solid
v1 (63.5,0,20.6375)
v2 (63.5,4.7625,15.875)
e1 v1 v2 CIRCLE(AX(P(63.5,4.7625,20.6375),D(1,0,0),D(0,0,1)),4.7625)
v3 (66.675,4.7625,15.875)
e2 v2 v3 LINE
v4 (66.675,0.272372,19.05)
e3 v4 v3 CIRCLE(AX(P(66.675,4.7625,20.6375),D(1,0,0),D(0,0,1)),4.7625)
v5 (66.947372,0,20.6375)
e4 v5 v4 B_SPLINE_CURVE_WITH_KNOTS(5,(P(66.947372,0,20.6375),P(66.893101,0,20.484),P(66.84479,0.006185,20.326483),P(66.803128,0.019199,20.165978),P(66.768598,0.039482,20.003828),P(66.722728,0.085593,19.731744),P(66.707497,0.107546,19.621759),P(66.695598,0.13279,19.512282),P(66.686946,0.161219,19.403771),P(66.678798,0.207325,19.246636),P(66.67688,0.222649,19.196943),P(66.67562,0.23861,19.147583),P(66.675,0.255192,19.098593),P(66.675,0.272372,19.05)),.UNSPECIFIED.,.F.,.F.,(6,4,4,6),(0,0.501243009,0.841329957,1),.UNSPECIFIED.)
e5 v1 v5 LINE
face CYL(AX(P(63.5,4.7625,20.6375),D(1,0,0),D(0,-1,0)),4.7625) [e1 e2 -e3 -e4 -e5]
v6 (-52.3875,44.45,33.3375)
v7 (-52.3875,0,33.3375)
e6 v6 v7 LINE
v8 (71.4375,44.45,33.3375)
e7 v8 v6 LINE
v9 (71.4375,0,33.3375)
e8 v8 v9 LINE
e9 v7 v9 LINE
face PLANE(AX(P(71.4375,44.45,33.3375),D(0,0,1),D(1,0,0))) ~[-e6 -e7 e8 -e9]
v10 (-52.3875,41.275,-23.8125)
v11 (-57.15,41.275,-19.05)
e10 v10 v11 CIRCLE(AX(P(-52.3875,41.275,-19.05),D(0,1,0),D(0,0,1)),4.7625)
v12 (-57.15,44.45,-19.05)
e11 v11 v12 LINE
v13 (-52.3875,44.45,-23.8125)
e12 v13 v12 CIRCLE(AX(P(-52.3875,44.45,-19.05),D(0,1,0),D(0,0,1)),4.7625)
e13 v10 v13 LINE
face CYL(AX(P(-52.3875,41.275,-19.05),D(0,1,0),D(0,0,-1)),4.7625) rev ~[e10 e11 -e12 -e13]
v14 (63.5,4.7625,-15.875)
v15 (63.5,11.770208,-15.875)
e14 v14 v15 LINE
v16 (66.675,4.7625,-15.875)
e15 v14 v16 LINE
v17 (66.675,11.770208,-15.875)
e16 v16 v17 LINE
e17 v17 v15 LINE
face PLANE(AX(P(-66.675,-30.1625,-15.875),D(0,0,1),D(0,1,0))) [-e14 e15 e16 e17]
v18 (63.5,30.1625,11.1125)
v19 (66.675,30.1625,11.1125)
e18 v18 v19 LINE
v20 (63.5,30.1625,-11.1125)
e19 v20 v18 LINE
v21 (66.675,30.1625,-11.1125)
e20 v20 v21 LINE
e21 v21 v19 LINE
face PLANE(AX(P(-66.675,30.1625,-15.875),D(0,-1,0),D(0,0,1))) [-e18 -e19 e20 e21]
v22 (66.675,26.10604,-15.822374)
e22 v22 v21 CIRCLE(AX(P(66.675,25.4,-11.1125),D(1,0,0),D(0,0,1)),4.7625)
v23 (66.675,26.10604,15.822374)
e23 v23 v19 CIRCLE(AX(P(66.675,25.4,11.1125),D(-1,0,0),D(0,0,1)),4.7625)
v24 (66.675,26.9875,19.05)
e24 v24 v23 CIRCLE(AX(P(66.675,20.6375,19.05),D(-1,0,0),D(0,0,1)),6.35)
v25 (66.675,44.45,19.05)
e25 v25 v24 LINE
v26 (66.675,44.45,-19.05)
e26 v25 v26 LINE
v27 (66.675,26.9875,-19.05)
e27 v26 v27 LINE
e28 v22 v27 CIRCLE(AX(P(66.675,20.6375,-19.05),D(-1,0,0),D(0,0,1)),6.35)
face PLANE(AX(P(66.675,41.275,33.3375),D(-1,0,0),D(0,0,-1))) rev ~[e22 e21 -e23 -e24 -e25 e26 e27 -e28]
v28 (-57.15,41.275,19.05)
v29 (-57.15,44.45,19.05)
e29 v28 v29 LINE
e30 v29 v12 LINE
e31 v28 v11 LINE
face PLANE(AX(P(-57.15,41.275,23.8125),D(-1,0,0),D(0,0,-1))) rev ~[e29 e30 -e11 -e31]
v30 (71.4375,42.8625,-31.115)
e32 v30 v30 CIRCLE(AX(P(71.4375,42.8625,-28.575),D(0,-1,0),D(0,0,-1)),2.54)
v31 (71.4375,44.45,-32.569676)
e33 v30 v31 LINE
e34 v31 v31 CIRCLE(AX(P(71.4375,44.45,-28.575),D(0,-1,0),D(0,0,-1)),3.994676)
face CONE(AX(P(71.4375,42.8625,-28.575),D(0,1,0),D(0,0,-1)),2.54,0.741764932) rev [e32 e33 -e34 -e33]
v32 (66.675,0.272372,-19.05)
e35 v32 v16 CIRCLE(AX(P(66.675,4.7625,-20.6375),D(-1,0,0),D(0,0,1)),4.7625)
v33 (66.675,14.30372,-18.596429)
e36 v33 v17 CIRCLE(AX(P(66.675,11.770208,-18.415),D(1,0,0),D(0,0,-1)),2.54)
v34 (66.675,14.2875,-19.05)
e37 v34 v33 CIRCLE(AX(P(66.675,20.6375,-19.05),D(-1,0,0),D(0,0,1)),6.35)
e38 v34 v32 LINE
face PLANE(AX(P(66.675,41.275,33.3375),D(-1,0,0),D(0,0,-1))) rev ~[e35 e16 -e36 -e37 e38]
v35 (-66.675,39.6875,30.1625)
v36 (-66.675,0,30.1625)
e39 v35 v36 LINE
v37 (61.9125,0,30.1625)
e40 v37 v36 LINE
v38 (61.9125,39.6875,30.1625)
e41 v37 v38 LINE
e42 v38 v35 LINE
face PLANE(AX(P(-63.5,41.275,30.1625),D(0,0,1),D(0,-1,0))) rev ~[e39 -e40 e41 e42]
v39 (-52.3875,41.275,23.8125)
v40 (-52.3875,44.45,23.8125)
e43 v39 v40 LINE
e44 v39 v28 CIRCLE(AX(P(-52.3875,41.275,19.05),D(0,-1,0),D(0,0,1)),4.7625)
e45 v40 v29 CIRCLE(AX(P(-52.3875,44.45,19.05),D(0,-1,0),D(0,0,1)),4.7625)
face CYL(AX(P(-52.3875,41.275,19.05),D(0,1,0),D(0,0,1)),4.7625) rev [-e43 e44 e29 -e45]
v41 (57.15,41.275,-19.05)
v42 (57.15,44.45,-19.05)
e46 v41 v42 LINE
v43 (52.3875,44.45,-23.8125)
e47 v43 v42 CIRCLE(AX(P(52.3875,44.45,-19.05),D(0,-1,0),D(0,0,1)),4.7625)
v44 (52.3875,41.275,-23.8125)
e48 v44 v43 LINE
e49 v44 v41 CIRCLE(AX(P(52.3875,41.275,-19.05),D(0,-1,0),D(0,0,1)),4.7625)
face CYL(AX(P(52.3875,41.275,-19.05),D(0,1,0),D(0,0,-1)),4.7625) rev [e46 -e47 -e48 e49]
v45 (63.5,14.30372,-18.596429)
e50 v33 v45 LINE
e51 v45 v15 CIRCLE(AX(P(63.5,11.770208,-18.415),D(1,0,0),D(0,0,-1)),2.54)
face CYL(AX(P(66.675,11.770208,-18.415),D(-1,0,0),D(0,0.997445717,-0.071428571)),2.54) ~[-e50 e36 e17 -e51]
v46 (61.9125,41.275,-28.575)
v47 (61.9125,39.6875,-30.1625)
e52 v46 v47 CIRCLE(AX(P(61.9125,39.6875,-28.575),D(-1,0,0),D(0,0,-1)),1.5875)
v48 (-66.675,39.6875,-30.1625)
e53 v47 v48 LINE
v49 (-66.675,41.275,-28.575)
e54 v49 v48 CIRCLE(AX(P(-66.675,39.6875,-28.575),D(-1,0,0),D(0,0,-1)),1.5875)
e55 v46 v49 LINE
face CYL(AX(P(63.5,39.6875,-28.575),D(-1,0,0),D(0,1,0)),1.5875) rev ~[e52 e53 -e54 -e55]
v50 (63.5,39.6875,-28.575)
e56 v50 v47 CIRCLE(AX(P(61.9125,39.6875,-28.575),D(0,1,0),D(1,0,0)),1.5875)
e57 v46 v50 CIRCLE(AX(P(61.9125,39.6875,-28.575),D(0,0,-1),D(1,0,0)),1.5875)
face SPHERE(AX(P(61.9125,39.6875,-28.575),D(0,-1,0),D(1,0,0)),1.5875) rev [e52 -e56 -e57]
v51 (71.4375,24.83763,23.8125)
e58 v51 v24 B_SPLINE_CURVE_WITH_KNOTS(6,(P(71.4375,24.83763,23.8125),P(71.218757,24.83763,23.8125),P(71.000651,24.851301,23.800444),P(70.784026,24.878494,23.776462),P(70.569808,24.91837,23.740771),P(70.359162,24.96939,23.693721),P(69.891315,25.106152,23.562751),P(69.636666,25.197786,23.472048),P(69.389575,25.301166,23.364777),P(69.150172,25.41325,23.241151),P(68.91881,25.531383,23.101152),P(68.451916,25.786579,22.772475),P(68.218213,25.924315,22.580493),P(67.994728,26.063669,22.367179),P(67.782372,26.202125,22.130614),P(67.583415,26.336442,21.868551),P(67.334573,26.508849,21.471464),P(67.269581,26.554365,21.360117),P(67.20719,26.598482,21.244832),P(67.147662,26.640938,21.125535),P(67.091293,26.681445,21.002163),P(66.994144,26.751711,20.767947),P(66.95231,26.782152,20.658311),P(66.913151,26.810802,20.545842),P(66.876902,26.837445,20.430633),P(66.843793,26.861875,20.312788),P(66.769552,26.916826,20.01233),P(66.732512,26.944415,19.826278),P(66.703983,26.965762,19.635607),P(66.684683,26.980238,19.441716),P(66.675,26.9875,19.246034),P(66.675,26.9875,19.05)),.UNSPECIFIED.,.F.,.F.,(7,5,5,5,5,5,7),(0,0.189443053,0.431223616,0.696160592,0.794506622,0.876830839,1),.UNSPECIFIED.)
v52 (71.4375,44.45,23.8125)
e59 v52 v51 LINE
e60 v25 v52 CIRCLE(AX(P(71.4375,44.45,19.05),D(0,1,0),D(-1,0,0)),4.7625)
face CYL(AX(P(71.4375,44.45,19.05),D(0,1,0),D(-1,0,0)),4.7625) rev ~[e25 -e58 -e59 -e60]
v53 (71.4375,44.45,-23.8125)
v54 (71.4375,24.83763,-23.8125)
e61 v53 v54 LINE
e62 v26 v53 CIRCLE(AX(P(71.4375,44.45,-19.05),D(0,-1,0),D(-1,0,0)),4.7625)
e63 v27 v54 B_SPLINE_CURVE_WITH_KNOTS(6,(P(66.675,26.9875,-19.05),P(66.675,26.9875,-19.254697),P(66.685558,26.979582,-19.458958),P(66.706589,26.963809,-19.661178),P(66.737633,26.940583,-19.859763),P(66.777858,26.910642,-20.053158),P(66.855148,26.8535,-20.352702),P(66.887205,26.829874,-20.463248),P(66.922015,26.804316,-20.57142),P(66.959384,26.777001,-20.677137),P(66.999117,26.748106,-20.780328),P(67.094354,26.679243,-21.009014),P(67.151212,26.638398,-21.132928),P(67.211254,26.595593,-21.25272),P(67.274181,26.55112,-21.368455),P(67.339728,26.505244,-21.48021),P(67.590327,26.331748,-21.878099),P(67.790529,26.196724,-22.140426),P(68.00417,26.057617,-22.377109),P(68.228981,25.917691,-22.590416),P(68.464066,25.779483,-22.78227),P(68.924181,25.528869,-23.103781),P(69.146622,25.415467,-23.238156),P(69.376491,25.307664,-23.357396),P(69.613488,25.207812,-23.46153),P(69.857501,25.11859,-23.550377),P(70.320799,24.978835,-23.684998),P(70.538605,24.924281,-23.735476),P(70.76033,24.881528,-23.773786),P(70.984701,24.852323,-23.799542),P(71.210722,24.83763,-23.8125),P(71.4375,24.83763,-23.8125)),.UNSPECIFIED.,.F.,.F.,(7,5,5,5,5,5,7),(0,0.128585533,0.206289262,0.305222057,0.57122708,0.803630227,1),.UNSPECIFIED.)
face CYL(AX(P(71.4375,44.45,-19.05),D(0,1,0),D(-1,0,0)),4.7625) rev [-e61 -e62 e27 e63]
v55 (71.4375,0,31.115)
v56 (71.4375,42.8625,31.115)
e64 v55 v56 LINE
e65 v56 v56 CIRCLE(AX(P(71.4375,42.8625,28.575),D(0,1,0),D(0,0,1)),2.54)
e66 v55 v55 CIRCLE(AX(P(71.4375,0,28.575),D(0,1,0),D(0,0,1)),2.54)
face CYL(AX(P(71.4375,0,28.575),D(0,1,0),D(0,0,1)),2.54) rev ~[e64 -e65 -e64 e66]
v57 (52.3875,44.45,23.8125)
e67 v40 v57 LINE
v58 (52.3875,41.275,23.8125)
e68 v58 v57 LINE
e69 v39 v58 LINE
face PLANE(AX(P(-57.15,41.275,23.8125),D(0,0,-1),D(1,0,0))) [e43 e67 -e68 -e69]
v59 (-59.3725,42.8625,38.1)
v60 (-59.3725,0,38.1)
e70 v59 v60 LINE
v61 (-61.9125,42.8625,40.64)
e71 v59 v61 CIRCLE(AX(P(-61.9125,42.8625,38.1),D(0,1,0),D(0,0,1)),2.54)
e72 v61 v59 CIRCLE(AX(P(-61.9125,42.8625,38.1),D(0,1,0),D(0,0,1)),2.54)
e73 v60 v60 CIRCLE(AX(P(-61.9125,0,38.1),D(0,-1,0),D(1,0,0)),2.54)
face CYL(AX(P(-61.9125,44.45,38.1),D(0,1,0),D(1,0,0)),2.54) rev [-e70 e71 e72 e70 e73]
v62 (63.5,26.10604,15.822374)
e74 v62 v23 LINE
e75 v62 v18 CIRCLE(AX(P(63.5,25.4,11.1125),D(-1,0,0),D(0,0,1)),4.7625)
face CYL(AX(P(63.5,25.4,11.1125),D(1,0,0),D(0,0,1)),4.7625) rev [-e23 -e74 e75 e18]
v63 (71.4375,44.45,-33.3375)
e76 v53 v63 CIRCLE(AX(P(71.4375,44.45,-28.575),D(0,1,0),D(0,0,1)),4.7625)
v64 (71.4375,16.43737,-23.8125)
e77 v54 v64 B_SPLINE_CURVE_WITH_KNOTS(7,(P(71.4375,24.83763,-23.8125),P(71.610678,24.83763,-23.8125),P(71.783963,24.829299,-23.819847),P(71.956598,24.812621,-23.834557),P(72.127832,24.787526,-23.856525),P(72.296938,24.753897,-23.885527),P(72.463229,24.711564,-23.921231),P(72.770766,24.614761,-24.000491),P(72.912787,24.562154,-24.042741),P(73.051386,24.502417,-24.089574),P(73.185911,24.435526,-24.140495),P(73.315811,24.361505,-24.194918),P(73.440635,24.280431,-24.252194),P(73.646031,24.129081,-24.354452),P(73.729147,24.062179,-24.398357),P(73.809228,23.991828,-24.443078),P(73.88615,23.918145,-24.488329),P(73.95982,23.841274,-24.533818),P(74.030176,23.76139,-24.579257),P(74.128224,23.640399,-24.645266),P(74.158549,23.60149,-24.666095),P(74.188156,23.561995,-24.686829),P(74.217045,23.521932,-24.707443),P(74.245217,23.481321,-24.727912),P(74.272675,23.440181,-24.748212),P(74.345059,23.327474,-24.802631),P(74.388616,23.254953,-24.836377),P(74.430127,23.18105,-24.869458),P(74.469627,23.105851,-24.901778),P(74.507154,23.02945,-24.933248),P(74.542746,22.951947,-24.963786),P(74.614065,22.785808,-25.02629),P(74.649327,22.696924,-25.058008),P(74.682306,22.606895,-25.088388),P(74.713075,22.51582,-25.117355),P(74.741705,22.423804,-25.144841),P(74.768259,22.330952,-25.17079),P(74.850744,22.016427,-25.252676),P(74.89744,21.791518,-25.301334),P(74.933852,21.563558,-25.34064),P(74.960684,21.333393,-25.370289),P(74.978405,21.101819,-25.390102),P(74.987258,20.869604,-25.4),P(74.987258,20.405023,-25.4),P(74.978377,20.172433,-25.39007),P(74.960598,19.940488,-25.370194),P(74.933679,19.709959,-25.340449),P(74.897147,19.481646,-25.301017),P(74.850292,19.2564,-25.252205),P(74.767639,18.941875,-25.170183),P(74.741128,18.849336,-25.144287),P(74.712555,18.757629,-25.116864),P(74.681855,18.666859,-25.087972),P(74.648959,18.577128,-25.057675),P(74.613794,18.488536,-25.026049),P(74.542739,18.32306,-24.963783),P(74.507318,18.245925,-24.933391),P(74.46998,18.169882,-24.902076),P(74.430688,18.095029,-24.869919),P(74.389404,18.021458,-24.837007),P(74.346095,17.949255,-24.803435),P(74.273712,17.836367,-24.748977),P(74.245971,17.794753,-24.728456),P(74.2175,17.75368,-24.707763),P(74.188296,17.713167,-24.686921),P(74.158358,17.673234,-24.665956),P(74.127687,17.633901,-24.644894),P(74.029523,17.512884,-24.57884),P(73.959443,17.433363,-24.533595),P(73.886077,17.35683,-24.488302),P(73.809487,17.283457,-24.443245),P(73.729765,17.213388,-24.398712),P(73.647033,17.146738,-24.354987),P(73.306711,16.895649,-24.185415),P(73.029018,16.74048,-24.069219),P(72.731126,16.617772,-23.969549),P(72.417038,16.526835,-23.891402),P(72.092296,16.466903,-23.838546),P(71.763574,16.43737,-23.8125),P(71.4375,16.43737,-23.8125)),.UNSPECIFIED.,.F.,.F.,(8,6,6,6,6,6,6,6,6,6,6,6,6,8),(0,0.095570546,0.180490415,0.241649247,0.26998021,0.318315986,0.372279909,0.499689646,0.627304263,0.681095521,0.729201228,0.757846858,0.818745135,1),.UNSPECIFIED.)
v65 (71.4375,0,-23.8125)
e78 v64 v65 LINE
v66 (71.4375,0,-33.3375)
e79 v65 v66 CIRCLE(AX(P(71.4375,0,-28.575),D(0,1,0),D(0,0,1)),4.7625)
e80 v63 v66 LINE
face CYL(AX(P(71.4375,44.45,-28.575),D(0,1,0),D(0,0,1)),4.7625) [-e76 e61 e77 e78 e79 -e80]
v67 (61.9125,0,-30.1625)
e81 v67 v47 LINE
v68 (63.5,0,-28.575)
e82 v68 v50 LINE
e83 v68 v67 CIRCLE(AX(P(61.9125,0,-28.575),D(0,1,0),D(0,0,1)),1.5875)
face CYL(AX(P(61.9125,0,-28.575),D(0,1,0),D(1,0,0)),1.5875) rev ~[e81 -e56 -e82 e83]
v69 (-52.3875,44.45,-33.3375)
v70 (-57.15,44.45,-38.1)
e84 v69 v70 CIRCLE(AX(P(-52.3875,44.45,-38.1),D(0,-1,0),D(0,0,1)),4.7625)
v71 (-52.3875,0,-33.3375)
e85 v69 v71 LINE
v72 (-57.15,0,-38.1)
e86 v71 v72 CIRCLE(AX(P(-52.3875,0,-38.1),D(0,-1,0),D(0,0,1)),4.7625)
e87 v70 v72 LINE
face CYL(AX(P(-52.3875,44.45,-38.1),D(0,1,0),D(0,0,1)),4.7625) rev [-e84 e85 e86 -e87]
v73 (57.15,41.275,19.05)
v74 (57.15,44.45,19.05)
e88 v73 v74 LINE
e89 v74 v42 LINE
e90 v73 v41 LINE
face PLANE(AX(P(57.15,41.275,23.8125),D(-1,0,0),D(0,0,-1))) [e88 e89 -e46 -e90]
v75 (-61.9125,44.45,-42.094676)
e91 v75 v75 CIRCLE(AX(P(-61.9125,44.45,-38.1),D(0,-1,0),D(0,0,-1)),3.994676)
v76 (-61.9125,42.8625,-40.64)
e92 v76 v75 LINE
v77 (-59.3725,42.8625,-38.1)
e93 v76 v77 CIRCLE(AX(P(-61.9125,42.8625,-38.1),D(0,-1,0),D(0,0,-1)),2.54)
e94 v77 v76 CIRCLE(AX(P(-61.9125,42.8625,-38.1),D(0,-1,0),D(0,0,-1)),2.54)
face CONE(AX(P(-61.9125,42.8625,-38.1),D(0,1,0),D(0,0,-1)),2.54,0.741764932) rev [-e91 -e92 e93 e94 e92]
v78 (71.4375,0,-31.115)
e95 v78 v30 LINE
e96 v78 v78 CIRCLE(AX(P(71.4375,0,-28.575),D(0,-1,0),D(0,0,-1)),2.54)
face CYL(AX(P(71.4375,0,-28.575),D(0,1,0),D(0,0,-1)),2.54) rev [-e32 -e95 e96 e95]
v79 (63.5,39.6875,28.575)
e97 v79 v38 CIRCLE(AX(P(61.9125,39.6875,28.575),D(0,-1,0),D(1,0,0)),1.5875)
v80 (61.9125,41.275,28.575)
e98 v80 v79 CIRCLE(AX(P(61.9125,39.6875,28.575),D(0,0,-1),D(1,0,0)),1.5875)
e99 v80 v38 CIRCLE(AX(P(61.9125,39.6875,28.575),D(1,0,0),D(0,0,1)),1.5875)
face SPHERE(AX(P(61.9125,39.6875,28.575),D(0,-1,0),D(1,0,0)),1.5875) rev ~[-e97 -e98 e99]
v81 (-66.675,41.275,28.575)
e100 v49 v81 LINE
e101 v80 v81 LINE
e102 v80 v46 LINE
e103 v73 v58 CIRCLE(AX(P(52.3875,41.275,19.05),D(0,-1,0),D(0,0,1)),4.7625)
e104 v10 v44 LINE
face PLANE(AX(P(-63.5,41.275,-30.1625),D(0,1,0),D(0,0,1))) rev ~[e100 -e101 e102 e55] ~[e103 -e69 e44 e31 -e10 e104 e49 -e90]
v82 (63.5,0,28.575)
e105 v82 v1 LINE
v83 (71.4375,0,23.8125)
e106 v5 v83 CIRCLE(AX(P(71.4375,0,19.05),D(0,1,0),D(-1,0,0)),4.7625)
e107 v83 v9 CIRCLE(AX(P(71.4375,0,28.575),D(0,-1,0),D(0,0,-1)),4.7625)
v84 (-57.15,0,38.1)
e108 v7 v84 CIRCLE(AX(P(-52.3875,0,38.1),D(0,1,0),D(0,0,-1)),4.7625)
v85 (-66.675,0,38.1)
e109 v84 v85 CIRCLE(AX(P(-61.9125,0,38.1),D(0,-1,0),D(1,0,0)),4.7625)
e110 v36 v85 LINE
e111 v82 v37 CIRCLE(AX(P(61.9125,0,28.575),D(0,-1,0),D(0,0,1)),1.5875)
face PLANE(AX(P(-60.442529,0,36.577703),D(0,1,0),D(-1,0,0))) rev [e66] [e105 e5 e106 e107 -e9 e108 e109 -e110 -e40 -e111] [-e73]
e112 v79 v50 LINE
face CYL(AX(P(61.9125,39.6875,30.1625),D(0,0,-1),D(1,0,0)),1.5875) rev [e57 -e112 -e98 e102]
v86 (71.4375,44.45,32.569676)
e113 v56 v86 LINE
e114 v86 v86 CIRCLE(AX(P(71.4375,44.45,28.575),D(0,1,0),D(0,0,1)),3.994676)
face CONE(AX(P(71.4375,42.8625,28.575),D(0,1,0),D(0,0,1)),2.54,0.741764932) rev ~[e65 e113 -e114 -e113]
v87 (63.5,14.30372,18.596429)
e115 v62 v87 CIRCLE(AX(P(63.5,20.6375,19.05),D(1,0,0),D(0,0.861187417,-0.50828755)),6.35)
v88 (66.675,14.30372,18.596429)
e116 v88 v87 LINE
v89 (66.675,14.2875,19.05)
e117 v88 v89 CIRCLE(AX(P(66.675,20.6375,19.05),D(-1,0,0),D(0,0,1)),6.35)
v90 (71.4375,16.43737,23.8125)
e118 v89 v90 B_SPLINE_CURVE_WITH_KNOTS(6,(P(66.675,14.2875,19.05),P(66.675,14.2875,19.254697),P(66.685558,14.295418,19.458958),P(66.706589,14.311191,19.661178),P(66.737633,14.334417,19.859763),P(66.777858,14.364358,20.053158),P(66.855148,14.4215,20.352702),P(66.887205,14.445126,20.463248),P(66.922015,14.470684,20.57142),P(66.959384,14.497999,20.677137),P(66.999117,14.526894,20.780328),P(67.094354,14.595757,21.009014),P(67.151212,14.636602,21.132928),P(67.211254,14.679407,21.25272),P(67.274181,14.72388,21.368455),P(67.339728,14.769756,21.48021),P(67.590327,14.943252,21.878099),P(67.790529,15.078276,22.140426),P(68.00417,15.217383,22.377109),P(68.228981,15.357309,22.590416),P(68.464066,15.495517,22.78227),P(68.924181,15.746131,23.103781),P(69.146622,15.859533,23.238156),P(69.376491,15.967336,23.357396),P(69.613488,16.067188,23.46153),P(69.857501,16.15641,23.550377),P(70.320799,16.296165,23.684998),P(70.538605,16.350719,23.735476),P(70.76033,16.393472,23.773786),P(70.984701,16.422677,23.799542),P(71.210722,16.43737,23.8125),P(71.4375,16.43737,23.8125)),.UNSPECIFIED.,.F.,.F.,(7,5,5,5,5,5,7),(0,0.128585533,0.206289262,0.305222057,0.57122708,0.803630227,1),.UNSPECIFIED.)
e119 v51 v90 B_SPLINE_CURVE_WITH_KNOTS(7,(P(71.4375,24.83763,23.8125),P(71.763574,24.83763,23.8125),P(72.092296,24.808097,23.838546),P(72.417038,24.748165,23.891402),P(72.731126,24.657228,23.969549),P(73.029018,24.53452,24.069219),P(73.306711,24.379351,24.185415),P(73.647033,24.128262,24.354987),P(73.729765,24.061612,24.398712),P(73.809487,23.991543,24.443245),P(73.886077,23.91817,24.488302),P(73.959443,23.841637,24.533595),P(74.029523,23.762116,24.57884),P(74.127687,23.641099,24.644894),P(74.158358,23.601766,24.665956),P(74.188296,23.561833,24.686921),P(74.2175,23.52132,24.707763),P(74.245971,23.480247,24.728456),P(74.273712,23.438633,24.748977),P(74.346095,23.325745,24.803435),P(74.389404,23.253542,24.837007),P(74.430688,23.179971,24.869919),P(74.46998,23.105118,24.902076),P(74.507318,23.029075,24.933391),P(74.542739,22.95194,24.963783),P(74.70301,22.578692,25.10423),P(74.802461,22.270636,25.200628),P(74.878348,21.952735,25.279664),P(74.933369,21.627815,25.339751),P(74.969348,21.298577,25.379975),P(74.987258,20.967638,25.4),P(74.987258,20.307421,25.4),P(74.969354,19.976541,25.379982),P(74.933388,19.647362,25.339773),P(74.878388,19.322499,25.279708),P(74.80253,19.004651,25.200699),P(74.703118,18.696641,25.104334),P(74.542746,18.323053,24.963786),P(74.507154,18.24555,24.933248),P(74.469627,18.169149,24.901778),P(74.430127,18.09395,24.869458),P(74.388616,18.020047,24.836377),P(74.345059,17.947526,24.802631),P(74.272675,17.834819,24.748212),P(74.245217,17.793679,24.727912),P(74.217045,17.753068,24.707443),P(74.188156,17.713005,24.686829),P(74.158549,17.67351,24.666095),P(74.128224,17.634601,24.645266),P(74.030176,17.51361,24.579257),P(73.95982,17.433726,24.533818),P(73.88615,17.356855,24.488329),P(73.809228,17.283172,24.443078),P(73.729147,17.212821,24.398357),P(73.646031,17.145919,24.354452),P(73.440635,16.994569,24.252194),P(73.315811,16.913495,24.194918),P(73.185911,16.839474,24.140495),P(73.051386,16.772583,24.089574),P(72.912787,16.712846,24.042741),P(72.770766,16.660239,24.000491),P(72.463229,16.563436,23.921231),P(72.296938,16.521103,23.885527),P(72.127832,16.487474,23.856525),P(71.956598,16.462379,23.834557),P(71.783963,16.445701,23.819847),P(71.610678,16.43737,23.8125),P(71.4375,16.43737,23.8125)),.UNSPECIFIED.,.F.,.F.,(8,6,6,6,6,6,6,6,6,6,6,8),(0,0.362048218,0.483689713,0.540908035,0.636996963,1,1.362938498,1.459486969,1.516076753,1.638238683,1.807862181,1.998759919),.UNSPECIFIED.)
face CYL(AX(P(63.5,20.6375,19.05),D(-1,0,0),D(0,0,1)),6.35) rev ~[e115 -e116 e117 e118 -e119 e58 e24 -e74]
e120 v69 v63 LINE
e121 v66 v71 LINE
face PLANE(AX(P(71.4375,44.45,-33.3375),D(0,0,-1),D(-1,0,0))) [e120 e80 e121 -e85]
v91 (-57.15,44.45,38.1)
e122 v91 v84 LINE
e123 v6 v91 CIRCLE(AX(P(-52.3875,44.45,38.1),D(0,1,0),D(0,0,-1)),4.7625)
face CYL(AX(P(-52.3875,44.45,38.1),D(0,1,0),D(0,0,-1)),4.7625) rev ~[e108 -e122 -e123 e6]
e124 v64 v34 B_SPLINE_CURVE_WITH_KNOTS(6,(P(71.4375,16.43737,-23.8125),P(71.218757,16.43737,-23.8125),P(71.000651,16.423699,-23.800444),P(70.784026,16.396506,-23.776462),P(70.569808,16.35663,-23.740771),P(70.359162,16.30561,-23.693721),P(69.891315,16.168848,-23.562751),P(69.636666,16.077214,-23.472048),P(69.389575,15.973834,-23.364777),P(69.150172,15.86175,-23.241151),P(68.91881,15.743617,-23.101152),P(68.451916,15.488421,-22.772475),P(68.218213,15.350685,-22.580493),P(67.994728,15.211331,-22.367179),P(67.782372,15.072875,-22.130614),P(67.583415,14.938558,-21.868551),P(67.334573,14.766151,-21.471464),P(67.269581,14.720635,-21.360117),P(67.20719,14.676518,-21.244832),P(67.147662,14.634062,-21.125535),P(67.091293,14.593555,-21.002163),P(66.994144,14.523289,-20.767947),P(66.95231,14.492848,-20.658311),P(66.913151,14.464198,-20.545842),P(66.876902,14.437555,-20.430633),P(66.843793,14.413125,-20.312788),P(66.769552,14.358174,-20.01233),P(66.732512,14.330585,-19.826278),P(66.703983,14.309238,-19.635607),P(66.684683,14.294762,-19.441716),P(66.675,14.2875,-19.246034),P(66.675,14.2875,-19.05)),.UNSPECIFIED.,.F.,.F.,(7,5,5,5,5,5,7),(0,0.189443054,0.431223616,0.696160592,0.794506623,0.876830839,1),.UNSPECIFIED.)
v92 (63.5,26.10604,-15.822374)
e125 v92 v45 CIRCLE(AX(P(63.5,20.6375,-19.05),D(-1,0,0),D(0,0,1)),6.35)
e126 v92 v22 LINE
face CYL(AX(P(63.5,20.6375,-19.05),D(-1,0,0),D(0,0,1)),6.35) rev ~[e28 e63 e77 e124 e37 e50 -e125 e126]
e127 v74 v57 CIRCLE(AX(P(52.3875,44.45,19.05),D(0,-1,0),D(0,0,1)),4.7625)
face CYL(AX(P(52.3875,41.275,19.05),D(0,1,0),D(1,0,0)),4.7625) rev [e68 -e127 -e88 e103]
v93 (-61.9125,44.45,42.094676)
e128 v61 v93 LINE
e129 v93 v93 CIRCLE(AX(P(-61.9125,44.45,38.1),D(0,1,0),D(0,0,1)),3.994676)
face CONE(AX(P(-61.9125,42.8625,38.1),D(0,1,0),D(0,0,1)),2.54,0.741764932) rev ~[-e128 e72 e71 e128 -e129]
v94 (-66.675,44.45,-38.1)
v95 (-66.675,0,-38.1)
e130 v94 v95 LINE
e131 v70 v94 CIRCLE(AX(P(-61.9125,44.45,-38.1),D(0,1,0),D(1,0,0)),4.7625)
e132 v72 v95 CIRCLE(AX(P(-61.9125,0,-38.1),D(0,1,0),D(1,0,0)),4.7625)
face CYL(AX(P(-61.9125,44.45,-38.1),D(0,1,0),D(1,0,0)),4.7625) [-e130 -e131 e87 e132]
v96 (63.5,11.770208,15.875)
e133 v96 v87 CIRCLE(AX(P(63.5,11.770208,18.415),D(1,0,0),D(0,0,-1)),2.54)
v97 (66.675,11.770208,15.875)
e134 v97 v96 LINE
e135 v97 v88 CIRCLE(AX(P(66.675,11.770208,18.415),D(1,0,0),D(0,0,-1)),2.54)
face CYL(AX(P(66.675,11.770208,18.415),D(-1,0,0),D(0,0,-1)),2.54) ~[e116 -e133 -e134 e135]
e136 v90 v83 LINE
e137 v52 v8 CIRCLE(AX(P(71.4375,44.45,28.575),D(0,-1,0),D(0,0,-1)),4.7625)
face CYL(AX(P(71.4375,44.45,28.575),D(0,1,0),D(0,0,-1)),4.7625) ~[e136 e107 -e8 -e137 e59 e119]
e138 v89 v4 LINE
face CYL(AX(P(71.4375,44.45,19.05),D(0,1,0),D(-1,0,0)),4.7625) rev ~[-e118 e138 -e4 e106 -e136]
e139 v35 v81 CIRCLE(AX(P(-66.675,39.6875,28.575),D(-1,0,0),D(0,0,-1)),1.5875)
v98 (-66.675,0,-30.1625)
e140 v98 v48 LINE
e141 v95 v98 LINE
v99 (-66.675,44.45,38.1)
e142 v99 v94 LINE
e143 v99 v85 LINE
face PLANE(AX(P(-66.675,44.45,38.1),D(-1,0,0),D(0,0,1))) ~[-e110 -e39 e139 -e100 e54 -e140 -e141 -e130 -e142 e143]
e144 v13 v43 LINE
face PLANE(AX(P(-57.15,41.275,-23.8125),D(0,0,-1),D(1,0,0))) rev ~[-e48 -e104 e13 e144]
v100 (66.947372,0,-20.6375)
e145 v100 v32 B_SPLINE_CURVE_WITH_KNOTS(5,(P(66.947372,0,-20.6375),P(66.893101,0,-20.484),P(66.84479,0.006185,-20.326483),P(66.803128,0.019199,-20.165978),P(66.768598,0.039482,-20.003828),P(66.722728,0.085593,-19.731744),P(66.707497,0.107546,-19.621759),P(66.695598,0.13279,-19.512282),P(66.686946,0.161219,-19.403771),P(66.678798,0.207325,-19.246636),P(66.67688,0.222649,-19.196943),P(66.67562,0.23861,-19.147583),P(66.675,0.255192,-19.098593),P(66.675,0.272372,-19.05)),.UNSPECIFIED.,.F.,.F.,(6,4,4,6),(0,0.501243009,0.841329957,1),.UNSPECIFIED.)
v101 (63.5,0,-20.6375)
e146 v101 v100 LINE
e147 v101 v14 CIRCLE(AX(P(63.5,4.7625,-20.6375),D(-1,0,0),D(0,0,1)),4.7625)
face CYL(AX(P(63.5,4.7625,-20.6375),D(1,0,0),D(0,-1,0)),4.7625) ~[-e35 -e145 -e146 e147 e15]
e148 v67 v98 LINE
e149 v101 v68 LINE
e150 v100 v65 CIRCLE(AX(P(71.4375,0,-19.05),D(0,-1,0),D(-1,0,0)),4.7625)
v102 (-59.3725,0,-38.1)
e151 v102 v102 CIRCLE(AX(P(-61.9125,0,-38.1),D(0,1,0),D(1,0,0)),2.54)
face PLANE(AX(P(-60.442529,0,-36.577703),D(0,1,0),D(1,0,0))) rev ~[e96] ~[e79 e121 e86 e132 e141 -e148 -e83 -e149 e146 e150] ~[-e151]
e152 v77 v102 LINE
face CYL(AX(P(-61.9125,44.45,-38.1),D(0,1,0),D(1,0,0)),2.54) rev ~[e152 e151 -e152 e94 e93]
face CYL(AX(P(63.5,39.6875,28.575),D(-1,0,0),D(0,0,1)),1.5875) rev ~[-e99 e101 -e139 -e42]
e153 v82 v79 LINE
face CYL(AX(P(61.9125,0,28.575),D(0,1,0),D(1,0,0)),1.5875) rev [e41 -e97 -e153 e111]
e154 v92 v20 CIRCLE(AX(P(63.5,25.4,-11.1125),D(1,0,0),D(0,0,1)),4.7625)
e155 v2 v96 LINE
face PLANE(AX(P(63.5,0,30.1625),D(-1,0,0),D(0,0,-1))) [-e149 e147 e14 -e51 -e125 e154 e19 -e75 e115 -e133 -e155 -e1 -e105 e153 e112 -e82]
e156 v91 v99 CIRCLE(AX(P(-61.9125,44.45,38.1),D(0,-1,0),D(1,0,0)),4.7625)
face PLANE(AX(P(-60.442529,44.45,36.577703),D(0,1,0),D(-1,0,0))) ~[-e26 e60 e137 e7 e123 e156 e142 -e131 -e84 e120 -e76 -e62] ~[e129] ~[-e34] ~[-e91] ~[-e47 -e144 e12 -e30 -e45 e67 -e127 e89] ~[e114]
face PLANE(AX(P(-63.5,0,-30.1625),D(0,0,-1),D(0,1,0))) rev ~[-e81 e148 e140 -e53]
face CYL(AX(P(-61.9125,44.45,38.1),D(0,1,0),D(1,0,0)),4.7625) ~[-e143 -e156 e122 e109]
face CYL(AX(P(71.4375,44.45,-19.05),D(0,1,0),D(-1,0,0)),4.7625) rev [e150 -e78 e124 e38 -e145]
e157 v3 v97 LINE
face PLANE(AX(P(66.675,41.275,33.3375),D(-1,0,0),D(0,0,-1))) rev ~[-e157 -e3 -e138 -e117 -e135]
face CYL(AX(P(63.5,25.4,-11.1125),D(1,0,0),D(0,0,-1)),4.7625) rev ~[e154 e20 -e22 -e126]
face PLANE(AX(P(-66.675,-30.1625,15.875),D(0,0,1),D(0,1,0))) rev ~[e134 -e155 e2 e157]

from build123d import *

# Parameters (mm, degrees)
SKETCH1_W           = 133.35
SKETCH1_H           = 66.675
SKETCH1_W_2         = 127
SKETCH1_H_2         = 60.325
BOSS_EXTRUDE1_DEPTH = 41.275
SKETCH2_W           = 31.75
SKETCH2_H           = 60.325
CUT_EXTRUDE1_DEPTH  = 134.35
SKETCH3_W           = 133.35
SKETCH3_H           = 66.675
SKETCH3_W_2         = 114.3
SKETCH3_H_2         = 47.625
BOSS_EXTRUDE2_DEPTH = 3.175
BOSS_EXTRUDE3_DEPTH = 44.45
SKETCH6_R           = 2.54
BOSS_EXTRUDE4_DEPTH = 44.45
CUT_EXTRUDE2_DEPTH  = 4.175
FILLET1_R           = 1.5875
FILLET2_R           = 4.7625
SKETCH9_R           = 6.35
CUT_EXTRUDE4_DEPTH  = 13.7
FILLET3_R           = 2.54


with BuildPart() as part:
    # Sketch1 → Boss-Extrude1 (new body)
    with BuildSketch(Plane(origin=(0, 0, 0), x_dir=(1, 0, 0), z_dir=(0, 1, 0))):
        Rectangle(SKETCH1_W, SKETCH1_H)
        Rectangle(SKETCH1_W_2, SKETCH1_H_2, mode=Mode.SUBTRACT)
    extrude(amount=BOSS_EXTRUDE1_DEPTH)

    # Sketch2 → Cut-Extrude1 (cut, through all)
    with BuildSketch(Plane.ZY.offset(66.675)):
        Rectangle(SKETCH2_W, SKETCH2_H)
    extrude(amount=-CUT_EXTRUDE1_DEPTH, mode=Mode.SUBTRACT)

    # Sketch3 → Boss-Extrude2 (add)
    with BuildSketch(Plane(origin=(0, 41.275, 0), x_dir=(1, 0, 0), z_dir=(0, 1, 0))):
        Rectangle(SKETCH3_W, SKETCH3_H)
        Rectangle(SKETCH3_W_2, SKETCH3_H_2, mode=Mode.SUBTRACT)
    extrude(amount=BOSS_EXTRUDE2_DEPTH)

    # Sketch4 → Boss-Extrude3 (add)
    with BuildSketch(Plane(origin=(0, 44.45, 0), x_dir=(1, 0, 0), z_dir=(0, 1, 0))):
        with BuildLine():
            Line((71.4375, 33.3375), (66.675, 33.3375))
            Line((66.675, 33.3375), (66.675, 19.05))
            ThreePointArc((66.675, 19.05), (68.069903955, 22.417596045), (71.4375, 23.8125))
            ThreePointArc((71.4375, 23.8125), (76.2, 28.575), (71.4375, 33.3375))
        make_face()
    boss_extrude3 = extrude(amount=-BOSS_EXTRUDE3_DEPTH)

    # Sketch5 → Cut-Revolve1 (revolve, cut)
    with BuildSketch(Plane.YZ.offset(71.4375)):
        Polygon((0, -31.115), (42.8625, -31.115), (44.45, -32.569675739), (44.45, -28.575), (0, -28.575), align=None)
    cut_revolve1 = revolve(axis=Axis((71.4375, 44.45, -28.575), (0, -1, 0)), mode=Mode.SUBTRACT)

    # Sketch6 → Boss-Extrude4 (add)
    with BuildSketch(Plane(origin=(0, 44.45, 0), x_dir=(1, 0, 0), z_dir=(0, 1, 0))):
        with BuildLine():
            Line((-66.675, 38.1), (-66.675, 33.3375))
            Line((-66.675, 33.3375), (-52.3875, 33.3375))
            ThreePointArc((-52.3875, 33.3375), (-55.755096045, 34.732403955), (-57.15, 38.1))
            ThreePointArc((-57.15, 38.1), (-61.9125, 42.8625), (-66.675, 38.1))
        make_face()
        with Locations((-61.9125, 38.1)):
            Circle(SKETCH6_R, mode=Mode.SUBTRACT)
    boss_extrude4 = extrude(amount=-BOSS_EXTRUDE4_DEPTH)

    # Sketch7 → Cut-Revolve2 (revolve, cut)
    with BuildSketch(Plane(origin=(-61.9125, 0, 0), x_dir=(0, 1, 0), z_dir=(-1, 0, 0))):
        Polygon((42.8625, 40.64), (44.45, 42.094675739), (44.45, 38.1), (42.8625, 38.1), align=None)
    cut_revolve2 = revolve(axis=Axis((-61.9125, 42.8625, -38.1), (0, -1, 0)), mode=Mode.SUBTRACT)

    # Mirror1: Boss-Extrude3, Cut-Revolve1, Boss-Extrude4, Cut-Revolve2 across plane
    add(boss_extrude3.mirror(Plane.XY))
    add(cut_revolve1.mirror(Plane.XY), mode=Mode.SUBTRACT)
    add(boss_extrude4.mirror(Plane.XY))
    add(cut_revolve2.mirror(Plane.XY), mode=Mode.SUBTRACT)

    # Sketch8 → Cut-Extrude2 (cut, through all)
    with BuildSketch(Plane(origin=(-63.5, 0, 0), x_dir=(0, 0, -1), z_dir=(1, 0, 0))):
        Polygon((-15.875, 0), (-15.875, 30.1625), (15.875, 30.1625), (15.875, 0), (30.1625, 0), (30.1625, 41.275), (-30.1625, 41.275), (-30.1625, 0), align=None)
    extrude(amount=-CUT_EXTRUDE2_DEPTH, mode=Mode.SUBTRACT)

    # Fillet1
    fillet1_edges = [part.edges().sort_by_distance(p)[0] for p in [
        (63.5, 20.6375, 30.1625),
        (63.5, 20.6375, -30.1625),
        (63.5, 41.275, 0),
        (-1.5875, 41.275, -30.1625),
        (-1.5875, 41.275, 30.1625),
    ]]
    fillet(fillet1_edges, radius=FILLET1_R)

    # Fillet2
    fillet2_edges = [part.edges().sort_by_distance(p)[0] for p in [
        (65.0875, 0, 15.875),
        (65.0875, 30.1625, 15.875),
        (65.0875, 0, -15.875),
        (65.0875, 30.1625, -15.875),
        (-57.15, 42.8625, 23.8125),
        (57.15, 42.8625, 23.8125),
        (57.15, 42.8625, -23.8125),
        (-57.15, 42.8625, -23.8125),
    ]]
    fillet(fillet2_edges, radius=FILLET2_R)

    # Sketch9 → Cut-Extrude4 (cut, through all)
    with BuildSketch(Plane.ZY.offset(-63.5)):
        with Locations((19.05, 20.6375)):
            Circle(SKETCH9_R)
        with Locations((-19.05, 20.6375)):
            Circle(SKETCH9_R)
    extrude(amount=-CUT_EXTRUDE4_DEPTH, mode=Mode.SUBTRACT)

    # Fillet3
    fillet3_edges = [part.edges().sort_by_distance(p)[0] for p in [
        (65.0875, 15.138238686, 15.875),
        (65.0875, 15.138238686, -15.875),
    ]]
    fillet(fillet3_edges, radius=FILLET3_R)


solid = part.part
